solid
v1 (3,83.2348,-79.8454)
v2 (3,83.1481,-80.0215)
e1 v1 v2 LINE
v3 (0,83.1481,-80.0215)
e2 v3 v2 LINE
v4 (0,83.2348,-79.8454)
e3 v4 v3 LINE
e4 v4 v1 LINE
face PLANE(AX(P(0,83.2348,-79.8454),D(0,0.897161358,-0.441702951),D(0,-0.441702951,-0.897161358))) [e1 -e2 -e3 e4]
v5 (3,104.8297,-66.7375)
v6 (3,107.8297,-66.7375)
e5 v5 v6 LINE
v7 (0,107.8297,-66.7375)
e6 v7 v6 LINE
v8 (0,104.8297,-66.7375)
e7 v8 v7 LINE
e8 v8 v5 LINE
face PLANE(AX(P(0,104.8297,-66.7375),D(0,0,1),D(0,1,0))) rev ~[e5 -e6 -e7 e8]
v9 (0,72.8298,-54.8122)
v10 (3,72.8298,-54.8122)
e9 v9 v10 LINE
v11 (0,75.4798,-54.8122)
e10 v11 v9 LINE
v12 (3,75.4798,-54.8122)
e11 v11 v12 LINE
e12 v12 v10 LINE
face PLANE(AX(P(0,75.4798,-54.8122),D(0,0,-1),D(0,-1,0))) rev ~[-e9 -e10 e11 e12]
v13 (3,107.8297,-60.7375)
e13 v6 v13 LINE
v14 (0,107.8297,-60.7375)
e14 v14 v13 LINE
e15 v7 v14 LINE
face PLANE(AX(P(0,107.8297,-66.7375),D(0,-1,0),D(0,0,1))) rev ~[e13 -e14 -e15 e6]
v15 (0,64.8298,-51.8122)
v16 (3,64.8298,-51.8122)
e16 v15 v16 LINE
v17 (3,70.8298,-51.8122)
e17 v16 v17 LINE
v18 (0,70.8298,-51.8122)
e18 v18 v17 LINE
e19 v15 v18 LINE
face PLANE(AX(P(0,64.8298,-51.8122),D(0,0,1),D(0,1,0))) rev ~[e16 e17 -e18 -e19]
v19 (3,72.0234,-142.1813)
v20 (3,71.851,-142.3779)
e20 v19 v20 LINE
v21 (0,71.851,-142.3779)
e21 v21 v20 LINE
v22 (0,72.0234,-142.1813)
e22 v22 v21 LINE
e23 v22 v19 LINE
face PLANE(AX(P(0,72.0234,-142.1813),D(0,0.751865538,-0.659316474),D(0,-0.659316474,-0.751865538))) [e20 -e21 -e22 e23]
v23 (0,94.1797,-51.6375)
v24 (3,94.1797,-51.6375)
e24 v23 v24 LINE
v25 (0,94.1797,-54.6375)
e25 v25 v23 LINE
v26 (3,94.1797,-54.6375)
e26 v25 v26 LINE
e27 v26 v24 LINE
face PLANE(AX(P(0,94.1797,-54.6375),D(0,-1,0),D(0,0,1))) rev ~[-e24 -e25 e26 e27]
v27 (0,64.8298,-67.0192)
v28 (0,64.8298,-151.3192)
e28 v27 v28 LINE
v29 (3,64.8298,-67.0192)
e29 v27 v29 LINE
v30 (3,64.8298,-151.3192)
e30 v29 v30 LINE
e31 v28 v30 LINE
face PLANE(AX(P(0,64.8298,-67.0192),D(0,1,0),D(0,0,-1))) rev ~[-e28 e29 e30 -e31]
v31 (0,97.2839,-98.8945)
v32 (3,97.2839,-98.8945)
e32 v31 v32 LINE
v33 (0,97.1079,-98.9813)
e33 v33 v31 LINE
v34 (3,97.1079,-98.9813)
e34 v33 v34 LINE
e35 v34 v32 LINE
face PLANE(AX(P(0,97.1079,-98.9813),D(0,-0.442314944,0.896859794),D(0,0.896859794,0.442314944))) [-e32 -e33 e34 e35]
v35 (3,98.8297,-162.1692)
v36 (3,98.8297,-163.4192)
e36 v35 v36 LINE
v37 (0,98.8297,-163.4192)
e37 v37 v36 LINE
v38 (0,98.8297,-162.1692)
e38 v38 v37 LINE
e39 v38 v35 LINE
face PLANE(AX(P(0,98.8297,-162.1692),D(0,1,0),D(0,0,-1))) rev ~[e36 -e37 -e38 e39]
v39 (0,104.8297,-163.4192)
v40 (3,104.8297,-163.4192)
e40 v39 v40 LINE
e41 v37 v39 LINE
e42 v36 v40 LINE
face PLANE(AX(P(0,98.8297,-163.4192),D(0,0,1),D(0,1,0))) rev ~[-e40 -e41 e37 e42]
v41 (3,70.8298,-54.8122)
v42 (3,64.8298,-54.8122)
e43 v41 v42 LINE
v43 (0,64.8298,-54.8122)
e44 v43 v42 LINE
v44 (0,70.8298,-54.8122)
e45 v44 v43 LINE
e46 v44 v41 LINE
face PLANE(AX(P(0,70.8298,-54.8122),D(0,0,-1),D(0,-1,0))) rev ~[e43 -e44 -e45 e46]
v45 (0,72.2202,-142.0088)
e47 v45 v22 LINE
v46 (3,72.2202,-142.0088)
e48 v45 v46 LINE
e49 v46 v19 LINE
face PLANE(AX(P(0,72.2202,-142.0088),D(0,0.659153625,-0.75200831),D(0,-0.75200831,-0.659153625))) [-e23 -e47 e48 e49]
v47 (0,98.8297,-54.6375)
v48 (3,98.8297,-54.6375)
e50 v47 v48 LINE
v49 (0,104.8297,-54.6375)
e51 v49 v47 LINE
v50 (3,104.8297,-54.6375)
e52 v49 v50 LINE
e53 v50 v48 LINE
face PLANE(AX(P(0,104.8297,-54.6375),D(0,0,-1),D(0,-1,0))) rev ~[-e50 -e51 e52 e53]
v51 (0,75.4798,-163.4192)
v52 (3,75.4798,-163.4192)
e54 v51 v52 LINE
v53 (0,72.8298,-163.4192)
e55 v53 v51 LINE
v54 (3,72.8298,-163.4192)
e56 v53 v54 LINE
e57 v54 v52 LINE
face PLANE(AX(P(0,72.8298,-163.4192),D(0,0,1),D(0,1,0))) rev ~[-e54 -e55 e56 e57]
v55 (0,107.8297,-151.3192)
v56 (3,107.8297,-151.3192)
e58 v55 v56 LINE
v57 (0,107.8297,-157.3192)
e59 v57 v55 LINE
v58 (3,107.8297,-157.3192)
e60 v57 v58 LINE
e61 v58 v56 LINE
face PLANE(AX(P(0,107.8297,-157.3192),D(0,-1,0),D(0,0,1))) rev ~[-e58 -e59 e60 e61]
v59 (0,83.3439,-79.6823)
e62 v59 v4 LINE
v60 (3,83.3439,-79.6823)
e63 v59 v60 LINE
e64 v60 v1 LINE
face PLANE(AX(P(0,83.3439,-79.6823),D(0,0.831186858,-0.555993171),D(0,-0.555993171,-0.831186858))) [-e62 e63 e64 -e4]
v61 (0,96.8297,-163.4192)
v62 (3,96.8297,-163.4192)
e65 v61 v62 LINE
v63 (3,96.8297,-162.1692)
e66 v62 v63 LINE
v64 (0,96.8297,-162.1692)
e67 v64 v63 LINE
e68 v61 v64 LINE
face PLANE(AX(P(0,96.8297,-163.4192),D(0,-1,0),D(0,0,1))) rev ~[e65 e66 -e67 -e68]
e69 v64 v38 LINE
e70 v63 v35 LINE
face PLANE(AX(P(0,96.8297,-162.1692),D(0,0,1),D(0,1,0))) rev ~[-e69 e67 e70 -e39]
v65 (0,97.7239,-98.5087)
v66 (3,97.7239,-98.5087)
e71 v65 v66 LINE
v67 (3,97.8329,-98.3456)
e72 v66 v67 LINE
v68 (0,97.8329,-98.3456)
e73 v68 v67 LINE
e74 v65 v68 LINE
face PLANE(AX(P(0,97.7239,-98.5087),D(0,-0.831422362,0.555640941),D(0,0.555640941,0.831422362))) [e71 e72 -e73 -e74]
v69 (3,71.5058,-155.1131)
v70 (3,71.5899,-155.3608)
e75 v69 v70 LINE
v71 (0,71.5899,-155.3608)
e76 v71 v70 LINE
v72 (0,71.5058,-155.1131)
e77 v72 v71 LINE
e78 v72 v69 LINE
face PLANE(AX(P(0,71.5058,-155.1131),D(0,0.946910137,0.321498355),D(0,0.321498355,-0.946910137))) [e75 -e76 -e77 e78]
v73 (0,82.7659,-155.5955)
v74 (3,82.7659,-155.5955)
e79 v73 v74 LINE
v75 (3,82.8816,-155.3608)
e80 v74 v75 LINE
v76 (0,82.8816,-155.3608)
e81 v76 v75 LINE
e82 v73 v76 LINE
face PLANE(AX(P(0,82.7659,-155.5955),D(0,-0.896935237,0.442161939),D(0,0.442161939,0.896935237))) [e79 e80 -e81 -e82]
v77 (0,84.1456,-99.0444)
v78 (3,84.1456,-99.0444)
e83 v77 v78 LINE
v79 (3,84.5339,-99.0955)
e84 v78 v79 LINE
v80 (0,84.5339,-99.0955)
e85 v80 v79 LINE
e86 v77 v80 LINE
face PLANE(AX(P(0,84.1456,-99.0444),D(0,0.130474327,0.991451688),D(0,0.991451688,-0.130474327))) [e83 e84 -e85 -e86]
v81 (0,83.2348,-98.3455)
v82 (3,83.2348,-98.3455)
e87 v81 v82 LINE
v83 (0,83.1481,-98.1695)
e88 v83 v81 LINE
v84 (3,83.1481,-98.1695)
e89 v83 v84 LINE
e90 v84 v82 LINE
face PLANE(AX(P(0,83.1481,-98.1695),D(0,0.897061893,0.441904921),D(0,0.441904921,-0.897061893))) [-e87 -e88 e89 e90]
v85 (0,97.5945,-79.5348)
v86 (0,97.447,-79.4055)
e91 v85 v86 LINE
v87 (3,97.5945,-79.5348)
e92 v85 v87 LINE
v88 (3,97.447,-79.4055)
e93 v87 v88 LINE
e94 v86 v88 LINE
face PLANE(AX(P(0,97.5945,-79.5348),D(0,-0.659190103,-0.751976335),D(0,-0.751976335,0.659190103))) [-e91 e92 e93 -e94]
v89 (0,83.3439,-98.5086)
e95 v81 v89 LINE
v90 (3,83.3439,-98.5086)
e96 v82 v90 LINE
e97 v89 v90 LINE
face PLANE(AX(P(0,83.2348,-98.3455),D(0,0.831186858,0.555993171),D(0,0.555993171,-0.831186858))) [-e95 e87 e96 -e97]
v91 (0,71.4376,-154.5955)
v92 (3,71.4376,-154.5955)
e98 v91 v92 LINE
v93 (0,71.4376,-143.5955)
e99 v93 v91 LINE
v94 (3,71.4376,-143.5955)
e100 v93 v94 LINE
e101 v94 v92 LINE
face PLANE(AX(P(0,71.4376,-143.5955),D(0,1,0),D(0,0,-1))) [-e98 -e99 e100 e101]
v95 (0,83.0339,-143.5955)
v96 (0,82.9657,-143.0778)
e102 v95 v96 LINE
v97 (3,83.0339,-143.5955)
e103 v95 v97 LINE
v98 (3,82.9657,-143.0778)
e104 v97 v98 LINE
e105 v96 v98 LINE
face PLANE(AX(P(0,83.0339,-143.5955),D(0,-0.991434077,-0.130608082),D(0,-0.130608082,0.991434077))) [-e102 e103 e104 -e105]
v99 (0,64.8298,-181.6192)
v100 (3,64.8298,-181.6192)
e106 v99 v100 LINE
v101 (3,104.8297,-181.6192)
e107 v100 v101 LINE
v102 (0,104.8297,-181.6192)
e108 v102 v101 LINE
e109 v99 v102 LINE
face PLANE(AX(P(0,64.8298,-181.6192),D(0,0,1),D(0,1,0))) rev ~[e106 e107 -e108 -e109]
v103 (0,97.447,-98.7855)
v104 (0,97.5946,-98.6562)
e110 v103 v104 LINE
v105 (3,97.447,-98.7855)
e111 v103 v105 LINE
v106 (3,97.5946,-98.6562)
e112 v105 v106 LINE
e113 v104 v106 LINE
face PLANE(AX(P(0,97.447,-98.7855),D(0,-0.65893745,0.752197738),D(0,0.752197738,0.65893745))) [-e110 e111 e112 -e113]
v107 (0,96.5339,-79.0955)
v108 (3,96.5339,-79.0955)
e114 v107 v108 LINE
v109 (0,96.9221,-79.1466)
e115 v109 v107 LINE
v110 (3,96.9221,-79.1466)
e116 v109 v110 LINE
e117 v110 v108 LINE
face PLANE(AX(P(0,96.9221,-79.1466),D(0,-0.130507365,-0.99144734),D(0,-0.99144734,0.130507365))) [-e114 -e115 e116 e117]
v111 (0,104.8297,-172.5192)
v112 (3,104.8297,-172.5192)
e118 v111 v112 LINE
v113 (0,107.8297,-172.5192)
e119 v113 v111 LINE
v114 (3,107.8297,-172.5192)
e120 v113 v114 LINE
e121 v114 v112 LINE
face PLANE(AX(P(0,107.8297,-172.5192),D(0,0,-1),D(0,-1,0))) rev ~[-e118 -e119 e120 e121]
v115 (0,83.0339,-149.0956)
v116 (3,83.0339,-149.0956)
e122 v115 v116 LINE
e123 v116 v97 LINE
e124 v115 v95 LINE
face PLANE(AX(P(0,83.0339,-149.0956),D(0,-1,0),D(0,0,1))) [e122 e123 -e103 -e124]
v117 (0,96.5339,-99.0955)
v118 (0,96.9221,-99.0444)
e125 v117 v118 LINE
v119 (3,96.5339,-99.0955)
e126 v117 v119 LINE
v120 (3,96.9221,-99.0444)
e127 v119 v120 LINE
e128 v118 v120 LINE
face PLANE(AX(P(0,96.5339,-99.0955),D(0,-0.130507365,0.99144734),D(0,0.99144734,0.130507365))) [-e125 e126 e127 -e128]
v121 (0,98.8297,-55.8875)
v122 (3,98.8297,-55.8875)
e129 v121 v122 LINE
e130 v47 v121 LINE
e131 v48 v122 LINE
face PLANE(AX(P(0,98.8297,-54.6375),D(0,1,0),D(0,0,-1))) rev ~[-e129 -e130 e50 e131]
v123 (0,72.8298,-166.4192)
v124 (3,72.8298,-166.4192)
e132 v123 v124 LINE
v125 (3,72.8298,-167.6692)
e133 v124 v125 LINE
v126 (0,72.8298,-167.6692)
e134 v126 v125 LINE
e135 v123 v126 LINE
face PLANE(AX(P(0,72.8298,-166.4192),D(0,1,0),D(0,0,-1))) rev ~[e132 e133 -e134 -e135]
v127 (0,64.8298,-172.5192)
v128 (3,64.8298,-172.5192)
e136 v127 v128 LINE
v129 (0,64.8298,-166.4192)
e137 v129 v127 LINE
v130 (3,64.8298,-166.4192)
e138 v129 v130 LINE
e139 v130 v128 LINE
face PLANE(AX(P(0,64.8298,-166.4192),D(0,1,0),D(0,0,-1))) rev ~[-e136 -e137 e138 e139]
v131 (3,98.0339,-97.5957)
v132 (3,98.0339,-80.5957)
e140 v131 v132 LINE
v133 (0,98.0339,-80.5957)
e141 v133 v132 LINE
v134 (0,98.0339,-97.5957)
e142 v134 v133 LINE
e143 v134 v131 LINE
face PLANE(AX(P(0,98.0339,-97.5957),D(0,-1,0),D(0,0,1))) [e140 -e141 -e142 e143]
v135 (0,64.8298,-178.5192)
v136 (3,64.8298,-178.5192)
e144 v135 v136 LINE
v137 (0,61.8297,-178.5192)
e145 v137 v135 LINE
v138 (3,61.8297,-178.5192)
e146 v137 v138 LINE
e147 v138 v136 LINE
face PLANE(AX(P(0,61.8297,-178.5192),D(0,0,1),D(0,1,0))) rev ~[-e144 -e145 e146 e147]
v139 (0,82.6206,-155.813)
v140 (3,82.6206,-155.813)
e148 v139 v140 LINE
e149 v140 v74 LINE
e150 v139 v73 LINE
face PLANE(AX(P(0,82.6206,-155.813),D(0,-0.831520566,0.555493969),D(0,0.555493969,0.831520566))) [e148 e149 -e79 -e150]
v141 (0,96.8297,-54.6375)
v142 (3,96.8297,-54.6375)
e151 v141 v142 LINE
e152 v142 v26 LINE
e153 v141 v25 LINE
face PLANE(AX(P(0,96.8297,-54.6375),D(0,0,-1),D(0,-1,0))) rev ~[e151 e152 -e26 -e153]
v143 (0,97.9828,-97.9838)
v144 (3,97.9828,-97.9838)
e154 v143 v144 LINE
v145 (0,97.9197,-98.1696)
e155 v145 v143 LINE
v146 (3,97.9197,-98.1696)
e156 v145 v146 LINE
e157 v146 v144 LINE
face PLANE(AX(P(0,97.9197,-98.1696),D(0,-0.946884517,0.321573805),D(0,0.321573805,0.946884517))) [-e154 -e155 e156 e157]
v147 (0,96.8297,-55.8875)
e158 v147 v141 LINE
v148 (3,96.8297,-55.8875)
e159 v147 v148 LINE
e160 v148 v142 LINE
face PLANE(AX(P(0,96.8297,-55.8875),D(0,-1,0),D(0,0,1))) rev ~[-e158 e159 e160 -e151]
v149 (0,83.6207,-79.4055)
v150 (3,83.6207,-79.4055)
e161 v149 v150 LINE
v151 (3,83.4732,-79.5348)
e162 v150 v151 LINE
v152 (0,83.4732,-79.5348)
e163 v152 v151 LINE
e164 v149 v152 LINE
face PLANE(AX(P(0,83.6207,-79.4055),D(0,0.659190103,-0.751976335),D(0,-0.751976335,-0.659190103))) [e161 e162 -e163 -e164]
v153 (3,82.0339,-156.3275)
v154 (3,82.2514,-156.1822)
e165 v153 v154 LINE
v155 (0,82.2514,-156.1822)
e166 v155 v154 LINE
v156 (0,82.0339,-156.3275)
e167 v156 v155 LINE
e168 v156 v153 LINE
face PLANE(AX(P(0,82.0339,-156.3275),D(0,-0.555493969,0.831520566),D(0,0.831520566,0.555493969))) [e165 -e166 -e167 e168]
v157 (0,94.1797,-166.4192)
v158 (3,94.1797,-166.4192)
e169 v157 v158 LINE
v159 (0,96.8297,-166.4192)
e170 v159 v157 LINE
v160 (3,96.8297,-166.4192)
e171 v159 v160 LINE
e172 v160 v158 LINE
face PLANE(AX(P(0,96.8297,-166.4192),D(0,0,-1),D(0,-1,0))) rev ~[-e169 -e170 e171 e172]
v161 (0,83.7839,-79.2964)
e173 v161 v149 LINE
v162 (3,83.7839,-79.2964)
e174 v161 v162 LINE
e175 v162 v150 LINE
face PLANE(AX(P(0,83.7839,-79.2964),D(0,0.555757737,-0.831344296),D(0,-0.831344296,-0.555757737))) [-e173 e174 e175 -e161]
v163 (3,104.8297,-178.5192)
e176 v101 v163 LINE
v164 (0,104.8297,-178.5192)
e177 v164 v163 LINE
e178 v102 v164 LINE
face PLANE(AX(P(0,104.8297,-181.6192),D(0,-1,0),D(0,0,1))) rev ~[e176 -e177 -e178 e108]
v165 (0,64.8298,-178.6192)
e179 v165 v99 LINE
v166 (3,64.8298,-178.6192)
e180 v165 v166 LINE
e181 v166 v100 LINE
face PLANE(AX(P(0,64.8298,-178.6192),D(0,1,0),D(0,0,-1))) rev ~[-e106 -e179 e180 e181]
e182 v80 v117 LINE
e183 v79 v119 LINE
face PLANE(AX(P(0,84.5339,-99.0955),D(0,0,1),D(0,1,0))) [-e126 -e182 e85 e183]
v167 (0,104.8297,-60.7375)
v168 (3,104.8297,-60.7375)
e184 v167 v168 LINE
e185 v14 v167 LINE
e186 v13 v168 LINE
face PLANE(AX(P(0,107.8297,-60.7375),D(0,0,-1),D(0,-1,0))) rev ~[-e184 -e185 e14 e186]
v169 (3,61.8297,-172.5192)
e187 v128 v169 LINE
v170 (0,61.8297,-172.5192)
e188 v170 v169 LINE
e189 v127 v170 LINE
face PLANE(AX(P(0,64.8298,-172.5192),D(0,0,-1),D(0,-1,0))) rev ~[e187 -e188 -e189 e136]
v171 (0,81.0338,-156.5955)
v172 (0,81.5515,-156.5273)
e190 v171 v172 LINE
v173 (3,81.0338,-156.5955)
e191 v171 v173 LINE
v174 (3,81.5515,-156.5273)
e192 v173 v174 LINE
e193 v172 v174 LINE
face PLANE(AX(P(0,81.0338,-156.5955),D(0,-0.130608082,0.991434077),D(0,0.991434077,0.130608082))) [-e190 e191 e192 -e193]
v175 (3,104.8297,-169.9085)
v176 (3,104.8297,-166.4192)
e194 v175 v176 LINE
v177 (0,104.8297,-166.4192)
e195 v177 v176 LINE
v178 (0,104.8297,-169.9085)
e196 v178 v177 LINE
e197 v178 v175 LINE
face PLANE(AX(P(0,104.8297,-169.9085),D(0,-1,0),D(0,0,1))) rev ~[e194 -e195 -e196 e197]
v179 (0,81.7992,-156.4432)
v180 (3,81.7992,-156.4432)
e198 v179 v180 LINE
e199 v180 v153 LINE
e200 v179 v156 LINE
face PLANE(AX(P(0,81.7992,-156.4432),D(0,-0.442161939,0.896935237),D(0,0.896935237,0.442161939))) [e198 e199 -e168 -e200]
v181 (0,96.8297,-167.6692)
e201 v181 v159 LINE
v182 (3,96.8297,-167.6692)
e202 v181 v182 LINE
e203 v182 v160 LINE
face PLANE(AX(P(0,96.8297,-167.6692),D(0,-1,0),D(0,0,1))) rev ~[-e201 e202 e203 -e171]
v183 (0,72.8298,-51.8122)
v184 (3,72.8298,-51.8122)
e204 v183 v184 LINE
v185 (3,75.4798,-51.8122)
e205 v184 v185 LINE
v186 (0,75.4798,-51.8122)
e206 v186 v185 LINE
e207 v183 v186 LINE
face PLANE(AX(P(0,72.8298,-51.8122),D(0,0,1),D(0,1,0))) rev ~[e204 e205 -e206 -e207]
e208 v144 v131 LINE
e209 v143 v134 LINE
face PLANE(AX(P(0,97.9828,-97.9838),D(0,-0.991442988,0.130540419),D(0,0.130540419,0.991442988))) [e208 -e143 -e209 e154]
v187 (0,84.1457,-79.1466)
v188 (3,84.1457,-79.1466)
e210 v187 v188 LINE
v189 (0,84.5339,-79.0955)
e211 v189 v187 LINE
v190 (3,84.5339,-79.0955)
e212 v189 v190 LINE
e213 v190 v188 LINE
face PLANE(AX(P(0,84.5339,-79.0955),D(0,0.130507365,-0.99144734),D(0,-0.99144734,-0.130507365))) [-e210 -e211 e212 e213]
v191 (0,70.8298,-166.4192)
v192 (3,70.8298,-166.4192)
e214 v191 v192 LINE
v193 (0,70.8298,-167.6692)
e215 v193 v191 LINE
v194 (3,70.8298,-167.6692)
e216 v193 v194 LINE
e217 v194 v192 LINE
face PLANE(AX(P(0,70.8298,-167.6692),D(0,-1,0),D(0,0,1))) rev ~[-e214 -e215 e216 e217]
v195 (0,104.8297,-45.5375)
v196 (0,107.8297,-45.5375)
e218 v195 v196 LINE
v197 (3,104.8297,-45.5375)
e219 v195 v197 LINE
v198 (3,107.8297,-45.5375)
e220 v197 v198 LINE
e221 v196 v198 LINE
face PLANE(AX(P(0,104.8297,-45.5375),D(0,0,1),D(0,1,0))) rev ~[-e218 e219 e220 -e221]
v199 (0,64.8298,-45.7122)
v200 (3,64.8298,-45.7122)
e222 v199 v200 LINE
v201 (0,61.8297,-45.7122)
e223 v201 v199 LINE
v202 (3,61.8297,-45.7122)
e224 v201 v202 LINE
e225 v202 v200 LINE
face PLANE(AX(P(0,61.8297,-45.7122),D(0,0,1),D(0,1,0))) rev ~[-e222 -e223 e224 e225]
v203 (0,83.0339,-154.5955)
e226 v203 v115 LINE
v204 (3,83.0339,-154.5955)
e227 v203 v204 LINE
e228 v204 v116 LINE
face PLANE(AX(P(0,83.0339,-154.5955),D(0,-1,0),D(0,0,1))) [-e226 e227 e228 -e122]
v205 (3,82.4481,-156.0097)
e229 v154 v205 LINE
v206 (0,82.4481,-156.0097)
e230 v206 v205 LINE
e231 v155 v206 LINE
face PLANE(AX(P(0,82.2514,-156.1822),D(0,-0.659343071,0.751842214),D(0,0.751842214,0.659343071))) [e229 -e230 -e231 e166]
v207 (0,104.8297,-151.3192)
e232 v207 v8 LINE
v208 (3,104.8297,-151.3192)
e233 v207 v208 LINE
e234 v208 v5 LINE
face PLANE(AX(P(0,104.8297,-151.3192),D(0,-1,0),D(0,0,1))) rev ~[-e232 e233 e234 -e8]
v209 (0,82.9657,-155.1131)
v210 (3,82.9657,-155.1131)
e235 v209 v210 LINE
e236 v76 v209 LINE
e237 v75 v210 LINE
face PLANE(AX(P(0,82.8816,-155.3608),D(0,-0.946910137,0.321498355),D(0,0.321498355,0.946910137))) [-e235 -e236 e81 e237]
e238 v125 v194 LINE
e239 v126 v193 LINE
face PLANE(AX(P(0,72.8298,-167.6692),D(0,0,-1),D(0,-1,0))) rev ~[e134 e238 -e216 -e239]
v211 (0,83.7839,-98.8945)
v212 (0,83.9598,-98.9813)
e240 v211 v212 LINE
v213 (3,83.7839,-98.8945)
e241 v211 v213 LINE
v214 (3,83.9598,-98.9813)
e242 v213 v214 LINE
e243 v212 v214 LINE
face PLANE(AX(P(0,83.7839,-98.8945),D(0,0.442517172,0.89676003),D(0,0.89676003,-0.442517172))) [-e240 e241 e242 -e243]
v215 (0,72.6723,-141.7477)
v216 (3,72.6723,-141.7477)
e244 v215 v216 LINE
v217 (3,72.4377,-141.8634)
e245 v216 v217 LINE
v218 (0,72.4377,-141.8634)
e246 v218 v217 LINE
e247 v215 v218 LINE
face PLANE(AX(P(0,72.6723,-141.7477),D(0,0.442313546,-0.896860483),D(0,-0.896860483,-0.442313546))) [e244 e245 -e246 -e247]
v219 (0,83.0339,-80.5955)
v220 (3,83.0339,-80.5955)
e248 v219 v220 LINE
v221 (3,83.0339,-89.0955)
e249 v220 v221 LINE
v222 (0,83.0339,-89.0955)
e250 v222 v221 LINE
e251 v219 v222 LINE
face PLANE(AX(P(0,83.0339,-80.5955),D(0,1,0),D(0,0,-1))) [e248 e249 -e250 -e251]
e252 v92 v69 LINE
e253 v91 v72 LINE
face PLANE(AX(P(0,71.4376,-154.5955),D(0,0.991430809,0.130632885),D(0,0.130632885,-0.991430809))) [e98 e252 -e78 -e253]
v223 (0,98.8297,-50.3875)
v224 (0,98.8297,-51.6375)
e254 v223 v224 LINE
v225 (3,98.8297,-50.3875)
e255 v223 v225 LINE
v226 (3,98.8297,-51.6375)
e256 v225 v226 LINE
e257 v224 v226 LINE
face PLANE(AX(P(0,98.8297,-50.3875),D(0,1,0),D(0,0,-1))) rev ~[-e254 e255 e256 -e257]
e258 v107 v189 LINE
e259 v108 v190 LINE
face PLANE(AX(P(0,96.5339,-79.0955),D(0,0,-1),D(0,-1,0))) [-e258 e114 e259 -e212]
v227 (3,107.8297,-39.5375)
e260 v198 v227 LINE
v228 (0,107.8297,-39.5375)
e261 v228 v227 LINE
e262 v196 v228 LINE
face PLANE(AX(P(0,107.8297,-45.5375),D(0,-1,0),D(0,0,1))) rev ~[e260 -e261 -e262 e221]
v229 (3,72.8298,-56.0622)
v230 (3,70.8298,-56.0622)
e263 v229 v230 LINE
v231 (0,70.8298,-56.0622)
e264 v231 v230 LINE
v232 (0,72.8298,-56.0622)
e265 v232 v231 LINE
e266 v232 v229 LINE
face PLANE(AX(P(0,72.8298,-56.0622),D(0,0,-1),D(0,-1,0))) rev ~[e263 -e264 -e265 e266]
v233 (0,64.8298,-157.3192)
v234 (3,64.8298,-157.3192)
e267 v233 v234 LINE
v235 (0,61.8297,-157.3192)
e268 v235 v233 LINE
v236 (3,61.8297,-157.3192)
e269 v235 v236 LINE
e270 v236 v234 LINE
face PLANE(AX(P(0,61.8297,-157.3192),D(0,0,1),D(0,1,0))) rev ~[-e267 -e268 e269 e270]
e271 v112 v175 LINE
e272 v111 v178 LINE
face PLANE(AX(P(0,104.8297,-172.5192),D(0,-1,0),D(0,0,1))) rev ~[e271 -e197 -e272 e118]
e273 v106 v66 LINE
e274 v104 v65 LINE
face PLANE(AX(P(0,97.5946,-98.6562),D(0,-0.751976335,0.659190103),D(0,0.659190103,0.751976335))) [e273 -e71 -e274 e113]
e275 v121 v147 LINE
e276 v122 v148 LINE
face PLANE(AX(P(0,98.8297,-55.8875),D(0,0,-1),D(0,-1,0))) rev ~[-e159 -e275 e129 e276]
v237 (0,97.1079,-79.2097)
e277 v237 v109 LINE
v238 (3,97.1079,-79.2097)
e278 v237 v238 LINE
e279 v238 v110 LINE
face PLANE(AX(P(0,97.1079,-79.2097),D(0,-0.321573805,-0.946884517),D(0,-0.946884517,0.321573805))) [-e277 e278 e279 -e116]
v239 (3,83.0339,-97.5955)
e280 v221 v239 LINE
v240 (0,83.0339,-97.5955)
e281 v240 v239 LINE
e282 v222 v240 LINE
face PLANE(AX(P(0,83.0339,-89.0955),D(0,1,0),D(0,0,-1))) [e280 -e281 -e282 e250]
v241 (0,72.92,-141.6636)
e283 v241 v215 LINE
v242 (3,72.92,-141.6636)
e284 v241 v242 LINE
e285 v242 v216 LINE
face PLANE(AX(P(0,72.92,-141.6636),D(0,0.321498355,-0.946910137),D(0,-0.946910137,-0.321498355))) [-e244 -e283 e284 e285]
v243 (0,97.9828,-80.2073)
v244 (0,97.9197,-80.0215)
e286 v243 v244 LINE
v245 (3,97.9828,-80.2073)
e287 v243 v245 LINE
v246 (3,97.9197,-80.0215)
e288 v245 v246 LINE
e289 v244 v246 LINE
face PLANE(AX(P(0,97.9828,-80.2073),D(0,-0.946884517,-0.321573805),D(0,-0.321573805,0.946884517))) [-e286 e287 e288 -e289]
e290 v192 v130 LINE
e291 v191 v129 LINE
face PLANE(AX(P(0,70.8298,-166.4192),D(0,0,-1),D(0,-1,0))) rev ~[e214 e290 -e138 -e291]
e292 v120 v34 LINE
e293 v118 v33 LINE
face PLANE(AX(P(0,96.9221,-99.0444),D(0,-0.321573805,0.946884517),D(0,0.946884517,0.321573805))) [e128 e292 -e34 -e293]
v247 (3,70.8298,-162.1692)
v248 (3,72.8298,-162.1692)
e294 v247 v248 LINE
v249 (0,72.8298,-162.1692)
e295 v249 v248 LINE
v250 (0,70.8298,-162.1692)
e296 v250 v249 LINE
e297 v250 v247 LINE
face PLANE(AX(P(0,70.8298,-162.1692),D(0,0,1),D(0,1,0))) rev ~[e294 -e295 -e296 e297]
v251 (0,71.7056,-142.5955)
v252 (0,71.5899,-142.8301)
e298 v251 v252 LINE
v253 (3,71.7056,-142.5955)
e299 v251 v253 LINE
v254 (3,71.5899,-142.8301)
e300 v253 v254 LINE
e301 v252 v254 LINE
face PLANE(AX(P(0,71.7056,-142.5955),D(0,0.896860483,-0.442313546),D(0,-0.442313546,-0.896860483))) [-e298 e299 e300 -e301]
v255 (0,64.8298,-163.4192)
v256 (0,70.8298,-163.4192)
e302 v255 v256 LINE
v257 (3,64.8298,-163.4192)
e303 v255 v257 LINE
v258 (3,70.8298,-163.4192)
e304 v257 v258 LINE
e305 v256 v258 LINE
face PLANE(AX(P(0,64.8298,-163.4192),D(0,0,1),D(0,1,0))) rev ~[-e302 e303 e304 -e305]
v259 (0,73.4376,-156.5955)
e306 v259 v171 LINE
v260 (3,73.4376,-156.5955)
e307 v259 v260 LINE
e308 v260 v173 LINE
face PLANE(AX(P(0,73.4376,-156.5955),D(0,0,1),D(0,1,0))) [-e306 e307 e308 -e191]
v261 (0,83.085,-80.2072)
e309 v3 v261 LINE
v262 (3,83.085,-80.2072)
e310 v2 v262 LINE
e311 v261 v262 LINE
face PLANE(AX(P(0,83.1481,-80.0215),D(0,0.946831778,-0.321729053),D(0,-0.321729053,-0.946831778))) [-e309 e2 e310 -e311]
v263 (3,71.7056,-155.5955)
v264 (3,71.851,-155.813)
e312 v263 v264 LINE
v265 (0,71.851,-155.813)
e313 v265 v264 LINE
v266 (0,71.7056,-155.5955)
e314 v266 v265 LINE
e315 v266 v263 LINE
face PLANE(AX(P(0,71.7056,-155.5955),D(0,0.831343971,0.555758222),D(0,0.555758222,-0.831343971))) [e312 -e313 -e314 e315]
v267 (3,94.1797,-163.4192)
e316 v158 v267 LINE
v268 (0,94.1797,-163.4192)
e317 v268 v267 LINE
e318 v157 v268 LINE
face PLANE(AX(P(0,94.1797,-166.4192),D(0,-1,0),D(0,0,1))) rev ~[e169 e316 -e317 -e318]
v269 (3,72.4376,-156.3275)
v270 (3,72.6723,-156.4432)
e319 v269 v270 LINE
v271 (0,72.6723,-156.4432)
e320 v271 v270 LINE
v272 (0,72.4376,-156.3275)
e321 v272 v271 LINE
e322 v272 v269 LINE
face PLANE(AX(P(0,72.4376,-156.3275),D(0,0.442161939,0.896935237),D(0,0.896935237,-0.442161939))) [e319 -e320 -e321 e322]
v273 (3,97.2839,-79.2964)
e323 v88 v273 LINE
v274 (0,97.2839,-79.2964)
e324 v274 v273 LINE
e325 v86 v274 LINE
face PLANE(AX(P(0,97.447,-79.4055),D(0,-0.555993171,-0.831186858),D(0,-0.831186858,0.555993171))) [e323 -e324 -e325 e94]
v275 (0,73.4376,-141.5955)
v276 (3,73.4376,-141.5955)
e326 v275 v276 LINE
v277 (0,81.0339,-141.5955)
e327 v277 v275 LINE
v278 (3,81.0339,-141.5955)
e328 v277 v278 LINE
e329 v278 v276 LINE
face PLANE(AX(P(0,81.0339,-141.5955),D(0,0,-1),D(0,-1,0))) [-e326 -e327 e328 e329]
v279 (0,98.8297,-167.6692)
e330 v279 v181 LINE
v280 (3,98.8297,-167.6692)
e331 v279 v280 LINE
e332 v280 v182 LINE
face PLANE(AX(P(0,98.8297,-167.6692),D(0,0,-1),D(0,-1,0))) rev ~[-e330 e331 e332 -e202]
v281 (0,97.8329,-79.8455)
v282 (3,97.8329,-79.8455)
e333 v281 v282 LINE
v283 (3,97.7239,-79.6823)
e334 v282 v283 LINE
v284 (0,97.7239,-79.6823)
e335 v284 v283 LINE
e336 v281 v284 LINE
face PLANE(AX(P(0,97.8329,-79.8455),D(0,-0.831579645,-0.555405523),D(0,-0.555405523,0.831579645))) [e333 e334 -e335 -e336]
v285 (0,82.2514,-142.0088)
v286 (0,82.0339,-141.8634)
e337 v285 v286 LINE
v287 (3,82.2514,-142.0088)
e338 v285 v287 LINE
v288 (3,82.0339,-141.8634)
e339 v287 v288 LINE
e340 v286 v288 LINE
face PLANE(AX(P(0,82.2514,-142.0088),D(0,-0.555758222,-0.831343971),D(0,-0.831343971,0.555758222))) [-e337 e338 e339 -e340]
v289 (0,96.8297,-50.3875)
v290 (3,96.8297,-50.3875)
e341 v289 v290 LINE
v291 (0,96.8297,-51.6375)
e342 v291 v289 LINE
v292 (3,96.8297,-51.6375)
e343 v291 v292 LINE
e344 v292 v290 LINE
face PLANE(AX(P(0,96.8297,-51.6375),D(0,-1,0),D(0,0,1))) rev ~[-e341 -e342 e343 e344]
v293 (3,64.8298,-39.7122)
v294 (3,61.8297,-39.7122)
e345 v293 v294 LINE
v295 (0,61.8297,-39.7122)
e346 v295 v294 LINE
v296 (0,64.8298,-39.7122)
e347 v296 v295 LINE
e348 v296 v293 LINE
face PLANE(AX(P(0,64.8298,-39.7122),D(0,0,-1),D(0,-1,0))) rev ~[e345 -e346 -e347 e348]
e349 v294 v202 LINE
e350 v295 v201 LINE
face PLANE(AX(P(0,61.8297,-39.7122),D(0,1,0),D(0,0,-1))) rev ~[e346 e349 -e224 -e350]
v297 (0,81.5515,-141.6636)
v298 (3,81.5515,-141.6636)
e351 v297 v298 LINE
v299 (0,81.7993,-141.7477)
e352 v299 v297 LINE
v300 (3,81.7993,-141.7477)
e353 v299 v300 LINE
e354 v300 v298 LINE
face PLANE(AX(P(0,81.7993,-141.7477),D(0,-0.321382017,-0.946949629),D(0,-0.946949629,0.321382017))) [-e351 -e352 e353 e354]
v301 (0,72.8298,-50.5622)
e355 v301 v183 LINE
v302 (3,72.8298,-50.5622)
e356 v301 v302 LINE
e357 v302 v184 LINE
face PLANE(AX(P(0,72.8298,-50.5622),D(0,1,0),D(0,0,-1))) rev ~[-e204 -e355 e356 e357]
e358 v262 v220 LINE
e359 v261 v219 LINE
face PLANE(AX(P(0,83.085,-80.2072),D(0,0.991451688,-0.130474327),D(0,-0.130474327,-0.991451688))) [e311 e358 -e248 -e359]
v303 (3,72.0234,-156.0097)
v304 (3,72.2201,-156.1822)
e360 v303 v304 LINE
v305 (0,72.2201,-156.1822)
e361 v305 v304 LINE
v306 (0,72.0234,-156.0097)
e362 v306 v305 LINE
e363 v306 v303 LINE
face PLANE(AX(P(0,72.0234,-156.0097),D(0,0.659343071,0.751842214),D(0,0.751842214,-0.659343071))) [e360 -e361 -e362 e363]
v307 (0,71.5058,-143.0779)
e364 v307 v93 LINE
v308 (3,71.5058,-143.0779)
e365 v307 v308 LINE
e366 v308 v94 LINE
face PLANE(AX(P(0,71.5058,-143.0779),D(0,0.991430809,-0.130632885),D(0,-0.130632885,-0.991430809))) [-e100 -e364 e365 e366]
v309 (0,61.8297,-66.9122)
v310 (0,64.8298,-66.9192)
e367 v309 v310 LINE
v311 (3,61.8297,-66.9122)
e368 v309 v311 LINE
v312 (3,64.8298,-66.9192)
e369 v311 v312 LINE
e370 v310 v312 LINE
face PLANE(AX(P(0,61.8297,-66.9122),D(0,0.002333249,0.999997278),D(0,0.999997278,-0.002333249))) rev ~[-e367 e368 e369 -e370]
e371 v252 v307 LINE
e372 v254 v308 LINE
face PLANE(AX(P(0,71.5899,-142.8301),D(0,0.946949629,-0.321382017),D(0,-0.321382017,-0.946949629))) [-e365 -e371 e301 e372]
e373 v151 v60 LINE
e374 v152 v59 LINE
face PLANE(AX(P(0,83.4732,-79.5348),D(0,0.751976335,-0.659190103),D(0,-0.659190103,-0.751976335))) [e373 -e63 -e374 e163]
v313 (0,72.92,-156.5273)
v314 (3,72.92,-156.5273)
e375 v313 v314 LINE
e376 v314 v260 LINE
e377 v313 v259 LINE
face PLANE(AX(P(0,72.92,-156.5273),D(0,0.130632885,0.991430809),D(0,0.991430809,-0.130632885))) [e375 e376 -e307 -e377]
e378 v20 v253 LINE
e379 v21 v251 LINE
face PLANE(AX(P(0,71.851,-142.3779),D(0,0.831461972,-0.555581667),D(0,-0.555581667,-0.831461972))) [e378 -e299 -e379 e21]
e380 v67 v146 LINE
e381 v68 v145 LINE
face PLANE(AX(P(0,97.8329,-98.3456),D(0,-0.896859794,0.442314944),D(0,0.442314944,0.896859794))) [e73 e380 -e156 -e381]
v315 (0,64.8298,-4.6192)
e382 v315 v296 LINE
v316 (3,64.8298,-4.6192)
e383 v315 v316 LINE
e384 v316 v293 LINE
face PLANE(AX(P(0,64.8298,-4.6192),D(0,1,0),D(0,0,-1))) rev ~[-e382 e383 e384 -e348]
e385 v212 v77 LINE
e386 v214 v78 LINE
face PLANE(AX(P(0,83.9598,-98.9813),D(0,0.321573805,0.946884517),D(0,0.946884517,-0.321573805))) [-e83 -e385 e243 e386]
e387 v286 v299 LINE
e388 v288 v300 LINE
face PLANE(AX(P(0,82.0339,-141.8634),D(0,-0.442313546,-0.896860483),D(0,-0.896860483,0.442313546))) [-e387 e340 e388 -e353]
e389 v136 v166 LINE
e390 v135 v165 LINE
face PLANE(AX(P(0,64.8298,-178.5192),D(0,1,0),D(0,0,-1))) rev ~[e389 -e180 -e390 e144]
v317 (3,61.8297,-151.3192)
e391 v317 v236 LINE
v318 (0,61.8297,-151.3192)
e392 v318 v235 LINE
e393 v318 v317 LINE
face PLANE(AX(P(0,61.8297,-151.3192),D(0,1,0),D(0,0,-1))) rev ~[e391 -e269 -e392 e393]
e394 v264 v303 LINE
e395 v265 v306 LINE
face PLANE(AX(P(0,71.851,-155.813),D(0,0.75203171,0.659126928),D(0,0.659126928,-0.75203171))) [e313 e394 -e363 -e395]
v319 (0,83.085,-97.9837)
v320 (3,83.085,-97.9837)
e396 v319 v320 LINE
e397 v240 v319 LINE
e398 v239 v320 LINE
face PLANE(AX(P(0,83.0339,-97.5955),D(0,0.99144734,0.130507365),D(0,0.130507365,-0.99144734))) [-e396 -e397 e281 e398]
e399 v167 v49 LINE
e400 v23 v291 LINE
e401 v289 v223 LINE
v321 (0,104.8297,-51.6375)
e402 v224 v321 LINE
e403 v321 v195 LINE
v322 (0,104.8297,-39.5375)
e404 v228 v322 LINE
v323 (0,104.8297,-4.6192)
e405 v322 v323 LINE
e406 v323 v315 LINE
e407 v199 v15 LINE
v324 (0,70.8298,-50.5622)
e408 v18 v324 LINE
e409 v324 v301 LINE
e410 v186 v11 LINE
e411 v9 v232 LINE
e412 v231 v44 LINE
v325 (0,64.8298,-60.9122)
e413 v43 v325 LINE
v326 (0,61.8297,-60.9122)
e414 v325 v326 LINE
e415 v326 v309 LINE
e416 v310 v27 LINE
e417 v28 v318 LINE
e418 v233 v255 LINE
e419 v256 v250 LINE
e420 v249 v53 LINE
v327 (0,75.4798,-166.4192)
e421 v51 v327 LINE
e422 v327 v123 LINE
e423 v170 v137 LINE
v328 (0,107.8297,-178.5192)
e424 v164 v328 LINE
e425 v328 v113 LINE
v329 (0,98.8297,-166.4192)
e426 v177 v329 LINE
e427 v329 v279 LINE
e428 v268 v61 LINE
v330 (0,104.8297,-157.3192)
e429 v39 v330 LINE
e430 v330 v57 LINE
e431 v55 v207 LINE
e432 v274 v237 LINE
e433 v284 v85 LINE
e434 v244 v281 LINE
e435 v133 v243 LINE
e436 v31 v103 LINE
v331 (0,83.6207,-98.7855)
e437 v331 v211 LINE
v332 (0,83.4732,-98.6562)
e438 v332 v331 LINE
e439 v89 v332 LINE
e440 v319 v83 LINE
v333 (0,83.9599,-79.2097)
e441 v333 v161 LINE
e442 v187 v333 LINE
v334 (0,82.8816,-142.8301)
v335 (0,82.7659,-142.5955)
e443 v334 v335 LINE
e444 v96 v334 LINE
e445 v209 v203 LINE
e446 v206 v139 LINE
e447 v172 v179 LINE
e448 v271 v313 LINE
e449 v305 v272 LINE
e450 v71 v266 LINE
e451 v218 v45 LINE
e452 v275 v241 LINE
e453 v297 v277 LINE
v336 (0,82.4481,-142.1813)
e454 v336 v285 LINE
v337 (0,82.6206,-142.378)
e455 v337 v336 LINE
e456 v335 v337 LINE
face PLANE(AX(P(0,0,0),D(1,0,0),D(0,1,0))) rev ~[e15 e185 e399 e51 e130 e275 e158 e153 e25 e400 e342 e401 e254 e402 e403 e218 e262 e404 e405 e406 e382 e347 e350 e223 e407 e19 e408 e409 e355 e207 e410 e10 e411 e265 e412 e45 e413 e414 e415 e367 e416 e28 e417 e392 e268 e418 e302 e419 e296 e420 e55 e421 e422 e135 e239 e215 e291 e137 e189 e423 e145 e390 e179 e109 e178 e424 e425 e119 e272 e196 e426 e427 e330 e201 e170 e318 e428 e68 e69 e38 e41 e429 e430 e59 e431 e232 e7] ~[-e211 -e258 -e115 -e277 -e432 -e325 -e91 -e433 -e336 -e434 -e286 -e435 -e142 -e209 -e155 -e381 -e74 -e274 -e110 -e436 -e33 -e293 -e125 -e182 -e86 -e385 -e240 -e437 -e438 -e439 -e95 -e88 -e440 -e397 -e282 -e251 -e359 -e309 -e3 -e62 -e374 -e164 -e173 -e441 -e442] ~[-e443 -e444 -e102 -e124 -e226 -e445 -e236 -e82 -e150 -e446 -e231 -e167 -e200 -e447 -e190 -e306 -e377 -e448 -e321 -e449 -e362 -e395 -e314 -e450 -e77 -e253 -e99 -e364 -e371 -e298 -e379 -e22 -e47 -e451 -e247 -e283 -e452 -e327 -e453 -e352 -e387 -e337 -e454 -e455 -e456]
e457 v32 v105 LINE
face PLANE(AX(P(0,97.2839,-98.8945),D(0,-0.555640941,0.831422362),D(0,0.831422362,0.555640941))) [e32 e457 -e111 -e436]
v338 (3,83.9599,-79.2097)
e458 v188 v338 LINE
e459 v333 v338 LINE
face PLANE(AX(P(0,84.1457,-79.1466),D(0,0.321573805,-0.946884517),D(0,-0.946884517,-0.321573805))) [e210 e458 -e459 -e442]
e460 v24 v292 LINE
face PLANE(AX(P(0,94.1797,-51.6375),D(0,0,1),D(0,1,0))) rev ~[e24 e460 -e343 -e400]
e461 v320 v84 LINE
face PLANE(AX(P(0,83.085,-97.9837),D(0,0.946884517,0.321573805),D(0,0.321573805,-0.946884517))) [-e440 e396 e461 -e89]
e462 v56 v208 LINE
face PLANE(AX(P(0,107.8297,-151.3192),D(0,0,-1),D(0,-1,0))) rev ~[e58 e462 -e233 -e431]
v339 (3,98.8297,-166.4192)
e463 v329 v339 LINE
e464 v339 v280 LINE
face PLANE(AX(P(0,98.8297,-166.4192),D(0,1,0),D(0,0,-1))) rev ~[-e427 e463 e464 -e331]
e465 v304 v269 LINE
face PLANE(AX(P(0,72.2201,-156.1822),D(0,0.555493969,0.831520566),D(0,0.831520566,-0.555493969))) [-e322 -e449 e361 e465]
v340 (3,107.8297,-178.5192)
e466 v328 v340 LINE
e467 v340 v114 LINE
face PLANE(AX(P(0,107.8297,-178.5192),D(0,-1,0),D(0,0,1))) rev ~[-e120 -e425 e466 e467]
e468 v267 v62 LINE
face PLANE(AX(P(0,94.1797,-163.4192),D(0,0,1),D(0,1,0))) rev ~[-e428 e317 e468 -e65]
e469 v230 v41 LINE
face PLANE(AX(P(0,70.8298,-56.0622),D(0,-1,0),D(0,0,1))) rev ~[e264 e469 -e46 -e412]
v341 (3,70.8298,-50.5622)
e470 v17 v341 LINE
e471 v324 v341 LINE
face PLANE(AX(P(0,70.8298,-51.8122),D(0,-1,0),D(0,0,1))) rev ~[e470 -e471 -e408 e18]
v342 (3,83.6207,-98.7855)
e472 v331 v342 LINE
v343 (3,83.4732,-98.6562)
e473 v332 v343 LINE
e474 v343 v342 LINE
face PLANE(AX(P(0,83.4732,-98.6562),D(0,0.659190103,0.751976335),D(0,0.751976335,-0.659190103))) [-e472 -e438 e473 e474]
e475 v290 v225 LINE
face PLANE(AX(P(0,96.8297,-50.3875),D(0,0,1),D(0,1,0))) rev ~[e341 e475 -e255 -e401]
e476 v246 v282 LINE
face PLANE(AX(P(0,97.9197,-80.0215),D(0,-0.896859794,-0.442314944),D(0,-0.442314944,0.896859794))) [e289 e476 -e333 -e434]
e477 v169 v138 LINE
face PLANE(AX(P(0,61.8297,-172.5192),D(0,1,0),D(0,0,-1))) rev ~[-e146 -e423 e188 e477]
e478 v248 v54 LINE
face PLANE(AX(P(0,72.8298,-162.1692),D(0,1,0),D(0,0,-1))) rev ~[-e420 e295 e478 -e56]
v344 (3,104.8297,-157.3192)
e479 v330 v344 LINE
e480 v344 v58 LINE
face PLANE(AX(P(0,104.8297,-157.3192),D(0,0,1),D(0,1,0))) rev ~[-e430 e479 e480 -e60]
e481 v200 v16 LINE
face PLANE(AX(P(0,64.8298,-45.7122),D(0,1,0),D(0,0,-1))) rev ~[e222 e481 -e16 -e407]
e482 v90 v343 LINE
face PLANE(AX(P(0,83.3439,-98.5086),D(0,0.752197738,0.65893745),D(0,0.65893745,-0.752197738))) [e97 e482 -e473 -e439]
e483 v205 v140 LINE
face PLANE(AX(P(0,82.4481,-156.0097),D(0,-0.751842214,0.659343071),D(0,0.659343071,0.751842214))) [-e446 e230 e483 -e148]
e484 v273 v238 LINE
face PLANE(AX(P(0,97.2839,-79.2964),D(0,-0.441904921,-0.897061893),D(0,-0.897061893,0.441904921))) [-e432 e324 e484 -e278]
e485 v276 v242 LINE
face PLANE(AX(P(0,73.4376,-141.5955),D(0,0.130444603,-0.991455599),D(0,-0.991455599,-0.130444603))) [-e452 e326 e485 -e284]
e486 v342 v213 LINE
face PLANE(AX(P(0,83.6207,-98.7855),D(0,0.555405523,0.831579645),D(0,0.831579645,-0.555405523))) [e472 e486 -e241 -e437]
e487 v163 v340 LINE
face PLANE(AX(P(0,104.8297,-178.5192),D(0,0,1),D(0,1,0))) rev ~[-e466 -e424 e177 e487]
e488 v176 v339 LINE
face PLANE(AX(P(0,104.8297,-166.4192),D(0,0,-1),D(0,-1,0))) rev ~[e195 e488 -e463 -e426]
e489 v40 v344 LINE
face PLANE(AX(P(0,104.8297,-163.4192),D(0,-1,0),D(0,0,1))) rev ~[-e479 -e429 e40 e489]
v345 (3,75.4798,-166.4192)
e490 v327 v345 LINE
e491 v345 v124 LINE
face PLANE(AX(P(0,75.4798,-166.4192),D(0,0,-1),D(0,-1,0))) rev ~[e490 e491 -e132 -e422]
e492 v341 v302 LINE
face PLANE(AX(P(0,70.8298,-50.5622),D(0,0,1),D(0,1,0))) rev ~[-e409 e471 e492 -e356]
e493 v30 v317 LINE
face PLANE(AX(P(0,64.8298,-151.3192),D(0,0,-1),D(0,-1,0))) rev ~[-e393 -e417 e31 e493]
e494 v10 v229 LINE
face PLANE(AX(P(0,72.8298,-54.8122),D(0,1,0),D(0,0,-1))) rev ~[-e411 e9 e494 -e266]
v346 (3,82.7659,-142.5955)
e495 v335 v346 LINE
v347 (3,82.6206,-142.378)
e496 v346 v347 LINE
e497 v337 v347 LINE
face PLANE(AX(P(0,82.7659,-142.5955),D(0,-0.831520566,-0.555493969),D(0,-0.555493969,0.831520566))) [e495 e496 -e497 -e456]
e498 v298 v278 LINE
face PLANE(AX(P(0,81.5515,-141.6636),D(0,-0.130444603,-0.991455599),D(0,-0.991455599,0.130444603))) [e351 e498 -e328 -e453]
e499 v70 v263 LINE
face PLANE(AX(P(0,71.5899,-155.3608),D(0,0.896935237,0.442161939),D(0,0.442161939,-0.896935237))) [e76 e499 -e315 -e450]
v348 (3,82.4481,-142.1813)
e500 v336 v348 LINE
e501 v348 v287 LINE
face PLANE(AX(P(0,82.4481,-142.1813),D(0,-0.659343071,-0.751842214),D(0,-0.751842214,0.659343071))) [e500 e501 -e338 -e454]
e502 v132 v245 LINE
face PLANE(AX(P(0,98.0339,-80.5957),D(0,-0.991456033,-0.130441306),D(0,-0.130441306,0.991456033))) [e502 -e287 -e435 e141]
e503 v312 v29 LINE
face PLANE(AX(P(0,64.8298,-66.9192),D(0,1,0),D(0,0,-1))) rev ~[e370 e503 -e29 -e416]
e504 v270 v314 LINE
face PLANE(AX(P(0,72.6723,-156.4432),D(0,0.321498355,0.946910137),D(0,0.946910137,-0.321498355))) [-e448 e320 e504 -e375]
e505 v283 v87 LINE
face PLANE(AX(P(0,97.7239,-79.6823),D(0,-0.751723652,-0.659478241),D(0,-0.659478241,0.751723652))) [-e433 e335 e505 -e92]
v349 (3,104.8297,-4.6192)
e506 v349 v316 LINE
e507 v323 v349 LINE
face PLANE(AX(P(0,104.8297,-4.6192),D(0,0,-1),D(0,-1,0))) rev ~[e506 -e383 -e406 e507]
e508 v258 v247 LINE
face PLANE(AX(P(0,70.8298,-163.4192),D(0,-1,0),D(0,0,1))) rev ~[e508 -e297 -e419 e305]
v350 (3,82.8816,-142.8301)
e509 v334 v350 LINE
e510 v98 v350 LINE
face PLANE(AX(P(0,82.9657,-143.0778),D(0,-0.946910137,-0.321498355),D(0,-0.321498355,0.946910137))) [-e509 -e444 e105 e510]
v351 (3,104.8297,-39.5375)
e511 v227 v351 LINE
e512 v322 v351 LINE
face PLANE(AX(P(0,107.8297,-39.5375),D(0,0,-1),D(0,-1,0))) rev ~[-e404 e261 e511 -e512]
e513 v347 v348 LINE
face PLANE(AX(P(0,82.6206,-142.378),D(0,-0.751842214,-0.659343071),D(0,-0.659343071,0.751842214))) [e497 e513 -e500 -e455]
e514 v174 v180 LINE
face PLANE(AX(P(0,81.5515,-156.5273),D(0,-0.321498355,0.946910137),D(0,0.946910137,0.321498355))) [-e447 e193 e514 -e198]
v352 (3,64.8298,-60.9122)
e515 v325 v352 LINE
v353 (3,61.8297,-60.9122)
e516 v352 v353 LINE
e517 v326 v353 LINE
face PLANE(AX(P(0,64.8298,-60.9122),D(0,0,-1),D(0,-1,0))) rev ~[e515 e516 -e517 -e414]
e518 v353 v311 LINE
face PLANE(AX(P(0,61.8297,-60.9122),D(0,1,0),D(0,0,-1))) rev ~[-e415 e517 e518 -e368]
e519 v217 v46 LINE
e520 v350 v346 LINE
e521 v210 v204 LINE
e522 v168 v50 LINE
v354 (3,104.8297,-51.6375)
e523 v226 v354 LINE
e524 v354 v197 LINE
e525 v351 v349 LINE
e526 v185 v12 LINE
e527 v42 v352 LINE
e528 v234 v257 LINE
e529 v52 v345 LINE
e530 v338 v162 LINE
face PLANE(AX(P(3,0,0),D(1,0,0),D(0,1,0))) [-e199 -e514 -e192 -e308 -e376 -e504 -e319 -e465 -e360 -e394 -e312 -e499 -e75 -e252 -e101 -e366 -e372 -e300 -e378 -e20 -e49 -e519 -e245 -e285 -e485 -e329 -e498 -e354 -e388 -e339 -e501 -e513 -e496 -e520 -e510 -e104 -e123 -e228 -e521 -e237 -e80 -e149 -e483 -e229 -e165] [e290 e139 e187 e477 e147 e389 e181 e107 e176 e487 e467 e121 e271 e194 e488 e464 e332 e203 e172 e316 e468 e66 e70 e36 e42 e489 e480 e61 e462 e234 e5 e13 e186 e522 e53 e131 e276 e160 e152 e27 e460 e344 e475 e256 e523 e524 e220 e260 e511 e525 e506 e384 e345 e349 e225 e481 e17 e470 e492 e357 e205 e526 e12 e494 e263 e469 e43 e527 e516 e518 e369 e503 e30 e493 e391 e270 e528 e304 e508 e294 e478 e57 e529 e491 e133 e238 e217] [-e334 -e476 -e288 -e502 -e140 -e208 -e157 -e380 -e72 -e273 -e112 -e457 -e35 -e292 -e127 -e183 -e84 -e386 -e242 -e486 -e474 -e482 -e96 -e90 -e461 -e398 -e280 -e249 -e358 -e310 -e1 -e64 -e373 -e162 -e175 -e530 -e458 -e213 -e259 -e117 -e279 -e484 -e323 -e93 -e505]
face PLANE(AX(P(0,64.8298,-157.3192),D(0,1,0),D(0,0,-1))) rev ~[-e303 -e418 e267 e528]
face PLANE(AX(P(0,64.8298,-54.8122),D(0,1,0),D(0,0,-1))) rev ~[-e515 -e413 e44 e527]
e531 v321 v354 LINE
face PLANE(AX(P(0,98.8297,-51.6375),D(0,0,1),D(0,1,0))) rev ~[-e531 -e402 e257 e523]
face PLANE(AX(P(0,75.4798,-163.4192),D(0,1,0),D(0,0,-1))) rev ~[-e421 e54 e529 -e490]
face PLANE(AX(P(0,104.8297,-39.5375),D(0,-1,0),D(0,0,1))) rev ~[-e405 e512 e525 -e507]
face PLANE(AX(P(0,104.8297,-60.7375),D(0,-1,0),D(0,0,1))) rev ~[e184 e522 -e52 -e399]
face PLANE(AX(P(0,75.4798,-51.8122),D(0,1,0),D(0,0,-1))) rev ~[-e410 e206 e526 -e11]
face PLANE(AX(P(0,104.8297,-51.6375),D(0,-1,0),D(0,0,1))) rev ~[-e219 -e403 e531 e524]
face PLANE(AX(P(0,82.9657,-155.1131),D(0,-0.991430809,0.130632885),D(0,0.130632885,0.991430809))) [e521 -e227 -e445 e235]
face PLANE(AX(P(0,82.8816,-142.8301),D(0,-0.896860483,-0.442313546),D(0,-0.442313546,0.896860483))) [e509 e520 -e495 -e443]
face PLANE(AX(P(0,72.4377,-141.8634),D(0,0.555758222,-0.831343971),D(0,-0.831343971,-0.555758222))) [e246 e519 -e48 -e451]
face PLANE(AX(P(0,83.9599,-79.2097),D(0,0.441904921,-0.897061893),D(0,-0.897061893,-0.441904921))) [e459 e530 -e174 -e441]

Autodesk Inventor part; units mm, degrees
ref_plane "YZ Plane" through (0, 0, 0) normal (1, 0, 0) x (0, 1, 0)
ref_plane "XZ Plane" through (0, 0, 0) normal (0, 1, 0) x (-1, 0, 0)
ref_plane "XY Plane" through (0, 0, 0) normal (0, 0, 1) x (1, 0, 0)
sketch "Sketch1" plane through (0, 0, 0) normal (1, 0, 0) x (0, 1, 0)
  line L0 (104.8297, -51.6375) -> (104.8297, -45.5375)
  line L1 (104.8297, -45.5375) -> (107.8297, -45.5375)
  line L2 (107.8297, -45.5375) -> (107.8297, -39.5375)
  line L3 (107.8297, -39.5375) -> (104.8297, -39.5375)
  line L4 (104.8297, -39.5375) -> (104.8297, -4.6192)
  line L5 (104.8297, -4.6192) -> (64.8298, -4.6192)
  line L6 (64.8298, -4.6192) -> (64.8298, -39.7122)
  line L7 (64.8298, -39.7122) -> (61.8297, -39.7122)
  line L8 (61.8297, -39.7122) -> (61.8297, -45.7122)
  line L9 (61.8297, -45.7122) -> (64.8298, -45.7122)
  line L10 (64.8298, -45.7122) -> (64.8298, -51.8122)
  line L11 (64.8298, -51.8122) -> (70.8298, -51.8122)
  line L12 (70.8298, -51.8122) -> (70.8298, -50.5622)
  line L13 (70.8298, -50.5622) -> (72.8298, -50.5622)
  line L14 (72.8298, -50.5622) -> (72.8298, -51.8122)
  line L15 (72.8298, -51.8122) -> (75.4798, -51.8122)
  line L16 (75.4798, -51.8122) -> (75.4798, -54.8122)
  line L17 (75.4798, -54.8122) -> (72.8298, -54.8122)
  line L18 (72.8298, -54.8122) -> (72.8298, -56.0622)
  line L19 (72.8298, -56.0622) -> (70.8298, -56.0622)
  line L20 (70.8298, -56.0622) -> (70.8298, -54.8122)
  line L21 (70.8298, -54.8122) -> (64.8298, -54.8122)
  line L22 (64.8298, -54.8122) -> (64.8298, -60.9122)
  line L23 (64.8298, -60.9122) -> (61.8297, -60.9122)
  line L24 (61.8297, -60.9122) -> (61.8297, -66.9122)
  line L25 (61.8297, -66.9122) -> (64.8298, -66.9192)
  line L26 (64.8298, -66.9192) -> (64.8298, -67.0192)
  line L27 (64.8298, -67.0192) -> (64.8298, -151.3192)
  line L28 (64.8298, -151.3192) -> (61.8297, -151.3192)
  line L29 (61.8297, -151.3192) -> (61.8297, -157.3192)
  line L30 (61.8297, -157.3192) -> (64.8298, -157.3192)
  line L31 (64.8298, -157.3192) -> (64.8298, -163.4192)
  line L32 (64.8298, -163.4192) -> (70.8298, -163.4192)
  line L33 (70.8298, -163.4192) -> (70.8298, -162.1692)
  line L34 (70.8298, -162.1692) -> (72.8298, -162.1692)
  line L35 (72.8298, -162.1692) -> (72.8298, -163.4192)
  line L36 (72.8298, -163.4192) -> (75.4798, -163.4192)
  line L37 (75.4798, -163.4192) -> (75.4798, -166.4192)
  line L38 (75.4798, -166.4192) -> (72.8298, -166.4192)
  line L39 (72.8298, -166.4192) -> (72.8298, -167.6692)
  line L40 (72.8298, -167.6692) -> (70.8298, -167.6692)
  line L41 (70.8298, -167.6692) -> (70.8298, -166.4192)
  line L42 (70.8298, -166.4192) -> (64.8298, -166.4192)
  line L43 (64.8298, -166.4192) -> (64.8298, -172.5192)
  line L44 (64.8298, -172.5192) -> (61.8297, -172.5192)
  line L45 (61.8297, -172.5192) -> (61.8297, -178.5192)
  line L46 (61.8297, -178.5192) -> (64.8298, -178.5192)
  line L47 (64.8298, -178.5192) -> (64.8298, -178.6192)
  line L48 (64.8298, -178.6192) -> (64.8298, -181.6192)
  line L49 (64.8298, -181.6192) -> (104.8297, -181.6192)
  line L50 (104.8297, -181.6192) -> (104.8297, -178.5192)
  line L51 (104.8297, -178.5192) -> (107.8297, -178.5192)
  line L52 (107.8297, -178.5192) -> (107.8297, -172.5192)
  line L53 (107.8297, -172.5192) -> (104.8297, -172.5192)
  line L54 (104.8297, -172.5192) -> (104.8297, -169.9085)
  line L55 (104.8297, -169.9085) -> (104.8297, -166.4192)
  line L56 (104.8297, -166.4192) -> (98.8297, -166.4192)
  line L57 (98.8297, -166.4192) -> (98.8297, -167.6692)
  line L58 (98.8297, -167.6692) -> (96.8297, -167.6692)
  line L59 (96.8297, -167.6692) -> (96.8297, -166.4192)
  line L60 (96.8297, -166.4192) -> (94.1797, -166.4192)
  line L61 (94.1797, -166.4192) -> (94.1797, -163.4192)
  line L62 (94.1797, -163.4192) -> (96.8297, -163.4192)
  line L63 (96.8297, -163.4192) -> (96.8297, -162.1692)
  line L64 (96.8297, -162.1692) -> (98.8297, -162.1692)
  line L65 (98.8297, -162.1692) -> (98.8297, -163.4192)
  line L66 (98.8297, -163.4192) -> (104.8297, -163.4192)
  line L67 (104.8297, -163.4192) -> (104.8297, -157.3192)
  line L68 (104.8297, -157.3192) -> (107.8297, -157.3192)
  line L69 (107.8297, -157.3192) -> (107.8297, -151.3192)
  line L70 (107.8297, -151.3192) -> (104.8297, -151.3192)
  line L71 (104.8297, -151.3192) -> (104.8297, -66.7375)
  line L72 (104.8297, -66.7375) -> (107.8297, -66.7375)
  line L73 (107.8297, -66.7375) -> (107.8297, -60.7375)
  line L74 (107.8297, -60.7375) -> (104.8297, -60.7375)
  line L75 (104.8297, -60.7375) -> (104.8297, -54.6375)
  line L76 (104.8297, -54.6375) -> (98.8297, -54.6375)
  line L77 (98.8297, -54.6375) -> (98.8297, -55.8875)
  line L78 (98.8297, -55.8875) -> (96.8297, -55.8875)
  line L79 (96.8297, -55.8875) -> (96.8297, -54.6375)
  line L80 (96.8297, -54.6375) -> (94.1797, -54.6375)
  line L81 (94.1797, -54.6375) -> (94.1797, -51.6375)
  line L82 (94.1797, -51.6375) -> (96.8297, -51.6375)
  line L83 (96.8297, -51.6375) -> (96.8297, -50.3875)
  line L84 (96.8297, -50.3875) -> (98.8297, -50.3875)
  line L85 (98.8297, -50.3875) -> (98.8297, -51.6375)
  line L86 (98.8297, -51.6375) -> (104.8297, -51.6375)
  line L87 (82.9657, -143.0778) -> (82.8816, -142.8301)
  line L88 (82.8816, -142.8301) -> (82.7659, -142.5955)
  line L89 (82.7659, -142.5955) -> (82.6206, -142.378)
  line L90 (82.6206, -142.378) -> (82.4481, -142.1813)
  line L91 (82.4481, -142.1813) -> (82.2514, -142.0088)
  line L92 (82.2514, -142.0088) -> (82.0339, -141.8634)
  line L93 (82.0339, -141.8634) -> (81.7993, -141.7477)
  line L94 (81.7993, -141.7477) -> (81.5515, -141.6636)
  line L95 (81.5515, -141.6636) -> (81.0339, -141.5955)
  line L96 (81.0339, -141.5955) -> (73.4376, -141.5955)
  line L97 (73.4376, -141.5955) -> (72.92, -141.6636)
  line L98 (72.92, -141.6636) -> (72.6723, -141.7477)
  line L99 (72.6723, -141.7477) -> (72.4377, -141.8634)
  line L100 (72.4377, -141.8634) -> (72.2202, -142.0088)
  line L101 (72.2202, -142.0088) -> (72.0234, -142.1813)
  line L102 (72.0234, -142.1813) -> (71.851, -142.3779)
  line L103 (71.851, -142.3779) -> (71.7056, -142.5955)
  line L104 (71.7056, -142.5955) -> (71.5899, -142.8301)
  line L105 (71.5899, -142.8301) -> (71.5058, -143.0779)
  line L106 (71.5058, -143.0779) -> (71.4376, -143.5955)
  line L107 (71.4376, -143.5955) -> (71.4376, -154.5955)
  line L108 (71.4376, -154.5955) -> (71.5058, -155.1131)
  line L109 (71.5058, -155.1131) -> (71.5899, -155.3608)
  line L110 (71.5899, -155.3608) -> (71.7056, -155.5955)
  line L111 (71.7056, -155.5955) -> (71.851, -155.813)
  line L112 (71.851, -155.813) -> (72.0234, -156.0097)
  line L113 (72.0234, -156.0097) -> (72.2201, -156.1822)
  line L114 (72.2201, -156.1822) -> (72.4376, -156.3275)
  line L115 (72.4376, -156.3275) -> (72.6723, -156.4432)
  line L116 (72.6723, -156.4432) -> (72.92, -156.5273)
  line L117 (72.92, -156.5273) -> (73.4376, -156.5955)
  line L118 (73.4376, -156.5955) -> (81.0338, -156.5955)
  line L119 (81.0338, -156.5955) -> (81.5515, -156.5273)
  line L120 (81.5515, -156.5273) -> (81.7992, -156.4432)
  line L121 (81.7992, -156.4432) -> (82.0339, -156.3275)
  line L122 (82.0339, -156.3275) -> (82.2514, -156.1822)
  line L123 (82.2514, -156.1822) -> (82.4481, -156.0097)
  line L124 (82.4481, -156.0097) -> (82.6206, -155.813)
  line L125 (82.6206, -155.813) -> (82.7659, -155.5955)
  line L126 (82.7659, -155.5955) -> (82.8816, -155.3608)
  line L127 (82.8816, -155.3608) -> (82.9657, -155.1131)
  line L128 (82.9657, -155.1131) -> (83.0339, -154.5955)
  line L129 (83.0339, -154.5955) -> (83.0339, -149.0956)
  line L130 (83.0339, -149.0956) -> (83.0339, -143.5955)
  line L131 (83.0339, -143.5955) -> (82.9657, -143.0778)
  line L132 (97.9828, -80.2073) -> (97.9197, -80.0215)
  line L133 (97.9197, -80.0215) -> (97.8329, -79.8455)
  line L134 (97.8329, -79.8455) -> (97.7239, -79.6823)
  line L135 (97.7239, -79.6823) -> (97.5945, -79.5348)
  line L136 (97.5945, -79.5348) -> (97.447, -79.4055)
  line L137 (97.447, -79.4055) -> (97.2839, -79.2964)
  line L138 (97.2839, -79.2964) -> (97.1079, -79.2097)
  line L139 (97.1079, -79.2097) -> (96.9221, -79.1466)
  line L140 (96.9221, -79.1466) -> (96.5339, -79.0955)
  line L141 (96.5339, -79.0955) -> (84.5339, -79.0955)
  line L142 (84.5339, -79.0955) -> (84.1457, -79.1466)
  line L143 (84.1457, -79.1466) -> (83.9599, -79.2097)
  line L144 (83.9599, -79.2097) -> (83.7839, -79.2964)
  line L145 (83.7839, -79.2964) -> (83.6207, -79.4055)
  line L146 (83.6207, -79.4055) -> (83.4732, -79.5348)
  line L147 (83.4732, -79.5348) -> (83.3439, -79.6823)
  line L148 (83.3439, -79.6823) -> (83.2348, -79.8454)
  line L149 (83.2348, -79.8454) -> (83.1481, -80.0215)
  line L150 (83.1481, -80.0215) -> (83.085, -80.2072)
  line L151 (83.085, -80.2072) -> (83.0339, -80.5955)
  line L152 (83.0339, -80.5955) -> (83.0339, -89.0955)
  line L153 (83.0339, -89.0955) -> (83.0339, -97.5955)
  line L154 (83.0339, -97.5955) -> (83.085, -97.9837)
  line L155 (83.085, -97.9837) -> (83.1481, -98.1695)
  line L156 (83.1481, -98.1695) -> (83.2348, -98.3455)
  line L157 (83.2348, -98.3455) -> (83.3439, -98.5086)
  line L158 (83.3439, -98.5086) -> (83.4732, -98.6562)
  line L159 (83.4732, -98.6562) -> (83.6207, -98.7855)
  line L160 (83.6207, -98.7855) -> (83.7839, -98.8945)
  line L161 (83.7839, -98.8945) -> (83.9598, -98.9813)
  line L162 (83.9598, -98.9813) -> (84.1456, -99.0444)
  line L163 (84.1456, -99.0444) -> (84.5339, -99.0955)
  line L164 (84.5339, -99.0955) -> (96.5339, -99.0955)
  line L165 (96.5339, -99.0955) -> (96.9221, -99.0444)
  line L166 (96.9221, -99.0444) -> (97.1079, -98.9813)
  line L167 (97.1079, -98.9813) -> (97.2839, -98.8945)
  line L168 (97.2839, -98.8945) -> (97.447, -98.7855)
  line L169 (97.447, -98.7855) -> (97.5946, -98.6562)
  line L170 (97.5946, -98.6562) -> (97.7239, -98.5087)
  line L171 (97.7239, -98.5087) -> (97.8329, -98.3456)
  line L172 (97.8329, -98.3456) -> (97.9197, -98.1696)
  line L173 (97.9197, -98.1696) -> (97.9828, -97.9838)
  line L174 (97.9828, -97.9838) -> (98.0339, -97.5957)
  line L175 (98.0339, -97.5957) -> (98.0339, -80.5957)
  line L176 (98.0339, -80.5957) -> (97.9828, -80.2073)
  point P0 (0, 0)
extrude "Extrusion1" add sketch "Sketch1" along normal blind 3
properties part number "EE Side" material "Polycarbonate, Green"
